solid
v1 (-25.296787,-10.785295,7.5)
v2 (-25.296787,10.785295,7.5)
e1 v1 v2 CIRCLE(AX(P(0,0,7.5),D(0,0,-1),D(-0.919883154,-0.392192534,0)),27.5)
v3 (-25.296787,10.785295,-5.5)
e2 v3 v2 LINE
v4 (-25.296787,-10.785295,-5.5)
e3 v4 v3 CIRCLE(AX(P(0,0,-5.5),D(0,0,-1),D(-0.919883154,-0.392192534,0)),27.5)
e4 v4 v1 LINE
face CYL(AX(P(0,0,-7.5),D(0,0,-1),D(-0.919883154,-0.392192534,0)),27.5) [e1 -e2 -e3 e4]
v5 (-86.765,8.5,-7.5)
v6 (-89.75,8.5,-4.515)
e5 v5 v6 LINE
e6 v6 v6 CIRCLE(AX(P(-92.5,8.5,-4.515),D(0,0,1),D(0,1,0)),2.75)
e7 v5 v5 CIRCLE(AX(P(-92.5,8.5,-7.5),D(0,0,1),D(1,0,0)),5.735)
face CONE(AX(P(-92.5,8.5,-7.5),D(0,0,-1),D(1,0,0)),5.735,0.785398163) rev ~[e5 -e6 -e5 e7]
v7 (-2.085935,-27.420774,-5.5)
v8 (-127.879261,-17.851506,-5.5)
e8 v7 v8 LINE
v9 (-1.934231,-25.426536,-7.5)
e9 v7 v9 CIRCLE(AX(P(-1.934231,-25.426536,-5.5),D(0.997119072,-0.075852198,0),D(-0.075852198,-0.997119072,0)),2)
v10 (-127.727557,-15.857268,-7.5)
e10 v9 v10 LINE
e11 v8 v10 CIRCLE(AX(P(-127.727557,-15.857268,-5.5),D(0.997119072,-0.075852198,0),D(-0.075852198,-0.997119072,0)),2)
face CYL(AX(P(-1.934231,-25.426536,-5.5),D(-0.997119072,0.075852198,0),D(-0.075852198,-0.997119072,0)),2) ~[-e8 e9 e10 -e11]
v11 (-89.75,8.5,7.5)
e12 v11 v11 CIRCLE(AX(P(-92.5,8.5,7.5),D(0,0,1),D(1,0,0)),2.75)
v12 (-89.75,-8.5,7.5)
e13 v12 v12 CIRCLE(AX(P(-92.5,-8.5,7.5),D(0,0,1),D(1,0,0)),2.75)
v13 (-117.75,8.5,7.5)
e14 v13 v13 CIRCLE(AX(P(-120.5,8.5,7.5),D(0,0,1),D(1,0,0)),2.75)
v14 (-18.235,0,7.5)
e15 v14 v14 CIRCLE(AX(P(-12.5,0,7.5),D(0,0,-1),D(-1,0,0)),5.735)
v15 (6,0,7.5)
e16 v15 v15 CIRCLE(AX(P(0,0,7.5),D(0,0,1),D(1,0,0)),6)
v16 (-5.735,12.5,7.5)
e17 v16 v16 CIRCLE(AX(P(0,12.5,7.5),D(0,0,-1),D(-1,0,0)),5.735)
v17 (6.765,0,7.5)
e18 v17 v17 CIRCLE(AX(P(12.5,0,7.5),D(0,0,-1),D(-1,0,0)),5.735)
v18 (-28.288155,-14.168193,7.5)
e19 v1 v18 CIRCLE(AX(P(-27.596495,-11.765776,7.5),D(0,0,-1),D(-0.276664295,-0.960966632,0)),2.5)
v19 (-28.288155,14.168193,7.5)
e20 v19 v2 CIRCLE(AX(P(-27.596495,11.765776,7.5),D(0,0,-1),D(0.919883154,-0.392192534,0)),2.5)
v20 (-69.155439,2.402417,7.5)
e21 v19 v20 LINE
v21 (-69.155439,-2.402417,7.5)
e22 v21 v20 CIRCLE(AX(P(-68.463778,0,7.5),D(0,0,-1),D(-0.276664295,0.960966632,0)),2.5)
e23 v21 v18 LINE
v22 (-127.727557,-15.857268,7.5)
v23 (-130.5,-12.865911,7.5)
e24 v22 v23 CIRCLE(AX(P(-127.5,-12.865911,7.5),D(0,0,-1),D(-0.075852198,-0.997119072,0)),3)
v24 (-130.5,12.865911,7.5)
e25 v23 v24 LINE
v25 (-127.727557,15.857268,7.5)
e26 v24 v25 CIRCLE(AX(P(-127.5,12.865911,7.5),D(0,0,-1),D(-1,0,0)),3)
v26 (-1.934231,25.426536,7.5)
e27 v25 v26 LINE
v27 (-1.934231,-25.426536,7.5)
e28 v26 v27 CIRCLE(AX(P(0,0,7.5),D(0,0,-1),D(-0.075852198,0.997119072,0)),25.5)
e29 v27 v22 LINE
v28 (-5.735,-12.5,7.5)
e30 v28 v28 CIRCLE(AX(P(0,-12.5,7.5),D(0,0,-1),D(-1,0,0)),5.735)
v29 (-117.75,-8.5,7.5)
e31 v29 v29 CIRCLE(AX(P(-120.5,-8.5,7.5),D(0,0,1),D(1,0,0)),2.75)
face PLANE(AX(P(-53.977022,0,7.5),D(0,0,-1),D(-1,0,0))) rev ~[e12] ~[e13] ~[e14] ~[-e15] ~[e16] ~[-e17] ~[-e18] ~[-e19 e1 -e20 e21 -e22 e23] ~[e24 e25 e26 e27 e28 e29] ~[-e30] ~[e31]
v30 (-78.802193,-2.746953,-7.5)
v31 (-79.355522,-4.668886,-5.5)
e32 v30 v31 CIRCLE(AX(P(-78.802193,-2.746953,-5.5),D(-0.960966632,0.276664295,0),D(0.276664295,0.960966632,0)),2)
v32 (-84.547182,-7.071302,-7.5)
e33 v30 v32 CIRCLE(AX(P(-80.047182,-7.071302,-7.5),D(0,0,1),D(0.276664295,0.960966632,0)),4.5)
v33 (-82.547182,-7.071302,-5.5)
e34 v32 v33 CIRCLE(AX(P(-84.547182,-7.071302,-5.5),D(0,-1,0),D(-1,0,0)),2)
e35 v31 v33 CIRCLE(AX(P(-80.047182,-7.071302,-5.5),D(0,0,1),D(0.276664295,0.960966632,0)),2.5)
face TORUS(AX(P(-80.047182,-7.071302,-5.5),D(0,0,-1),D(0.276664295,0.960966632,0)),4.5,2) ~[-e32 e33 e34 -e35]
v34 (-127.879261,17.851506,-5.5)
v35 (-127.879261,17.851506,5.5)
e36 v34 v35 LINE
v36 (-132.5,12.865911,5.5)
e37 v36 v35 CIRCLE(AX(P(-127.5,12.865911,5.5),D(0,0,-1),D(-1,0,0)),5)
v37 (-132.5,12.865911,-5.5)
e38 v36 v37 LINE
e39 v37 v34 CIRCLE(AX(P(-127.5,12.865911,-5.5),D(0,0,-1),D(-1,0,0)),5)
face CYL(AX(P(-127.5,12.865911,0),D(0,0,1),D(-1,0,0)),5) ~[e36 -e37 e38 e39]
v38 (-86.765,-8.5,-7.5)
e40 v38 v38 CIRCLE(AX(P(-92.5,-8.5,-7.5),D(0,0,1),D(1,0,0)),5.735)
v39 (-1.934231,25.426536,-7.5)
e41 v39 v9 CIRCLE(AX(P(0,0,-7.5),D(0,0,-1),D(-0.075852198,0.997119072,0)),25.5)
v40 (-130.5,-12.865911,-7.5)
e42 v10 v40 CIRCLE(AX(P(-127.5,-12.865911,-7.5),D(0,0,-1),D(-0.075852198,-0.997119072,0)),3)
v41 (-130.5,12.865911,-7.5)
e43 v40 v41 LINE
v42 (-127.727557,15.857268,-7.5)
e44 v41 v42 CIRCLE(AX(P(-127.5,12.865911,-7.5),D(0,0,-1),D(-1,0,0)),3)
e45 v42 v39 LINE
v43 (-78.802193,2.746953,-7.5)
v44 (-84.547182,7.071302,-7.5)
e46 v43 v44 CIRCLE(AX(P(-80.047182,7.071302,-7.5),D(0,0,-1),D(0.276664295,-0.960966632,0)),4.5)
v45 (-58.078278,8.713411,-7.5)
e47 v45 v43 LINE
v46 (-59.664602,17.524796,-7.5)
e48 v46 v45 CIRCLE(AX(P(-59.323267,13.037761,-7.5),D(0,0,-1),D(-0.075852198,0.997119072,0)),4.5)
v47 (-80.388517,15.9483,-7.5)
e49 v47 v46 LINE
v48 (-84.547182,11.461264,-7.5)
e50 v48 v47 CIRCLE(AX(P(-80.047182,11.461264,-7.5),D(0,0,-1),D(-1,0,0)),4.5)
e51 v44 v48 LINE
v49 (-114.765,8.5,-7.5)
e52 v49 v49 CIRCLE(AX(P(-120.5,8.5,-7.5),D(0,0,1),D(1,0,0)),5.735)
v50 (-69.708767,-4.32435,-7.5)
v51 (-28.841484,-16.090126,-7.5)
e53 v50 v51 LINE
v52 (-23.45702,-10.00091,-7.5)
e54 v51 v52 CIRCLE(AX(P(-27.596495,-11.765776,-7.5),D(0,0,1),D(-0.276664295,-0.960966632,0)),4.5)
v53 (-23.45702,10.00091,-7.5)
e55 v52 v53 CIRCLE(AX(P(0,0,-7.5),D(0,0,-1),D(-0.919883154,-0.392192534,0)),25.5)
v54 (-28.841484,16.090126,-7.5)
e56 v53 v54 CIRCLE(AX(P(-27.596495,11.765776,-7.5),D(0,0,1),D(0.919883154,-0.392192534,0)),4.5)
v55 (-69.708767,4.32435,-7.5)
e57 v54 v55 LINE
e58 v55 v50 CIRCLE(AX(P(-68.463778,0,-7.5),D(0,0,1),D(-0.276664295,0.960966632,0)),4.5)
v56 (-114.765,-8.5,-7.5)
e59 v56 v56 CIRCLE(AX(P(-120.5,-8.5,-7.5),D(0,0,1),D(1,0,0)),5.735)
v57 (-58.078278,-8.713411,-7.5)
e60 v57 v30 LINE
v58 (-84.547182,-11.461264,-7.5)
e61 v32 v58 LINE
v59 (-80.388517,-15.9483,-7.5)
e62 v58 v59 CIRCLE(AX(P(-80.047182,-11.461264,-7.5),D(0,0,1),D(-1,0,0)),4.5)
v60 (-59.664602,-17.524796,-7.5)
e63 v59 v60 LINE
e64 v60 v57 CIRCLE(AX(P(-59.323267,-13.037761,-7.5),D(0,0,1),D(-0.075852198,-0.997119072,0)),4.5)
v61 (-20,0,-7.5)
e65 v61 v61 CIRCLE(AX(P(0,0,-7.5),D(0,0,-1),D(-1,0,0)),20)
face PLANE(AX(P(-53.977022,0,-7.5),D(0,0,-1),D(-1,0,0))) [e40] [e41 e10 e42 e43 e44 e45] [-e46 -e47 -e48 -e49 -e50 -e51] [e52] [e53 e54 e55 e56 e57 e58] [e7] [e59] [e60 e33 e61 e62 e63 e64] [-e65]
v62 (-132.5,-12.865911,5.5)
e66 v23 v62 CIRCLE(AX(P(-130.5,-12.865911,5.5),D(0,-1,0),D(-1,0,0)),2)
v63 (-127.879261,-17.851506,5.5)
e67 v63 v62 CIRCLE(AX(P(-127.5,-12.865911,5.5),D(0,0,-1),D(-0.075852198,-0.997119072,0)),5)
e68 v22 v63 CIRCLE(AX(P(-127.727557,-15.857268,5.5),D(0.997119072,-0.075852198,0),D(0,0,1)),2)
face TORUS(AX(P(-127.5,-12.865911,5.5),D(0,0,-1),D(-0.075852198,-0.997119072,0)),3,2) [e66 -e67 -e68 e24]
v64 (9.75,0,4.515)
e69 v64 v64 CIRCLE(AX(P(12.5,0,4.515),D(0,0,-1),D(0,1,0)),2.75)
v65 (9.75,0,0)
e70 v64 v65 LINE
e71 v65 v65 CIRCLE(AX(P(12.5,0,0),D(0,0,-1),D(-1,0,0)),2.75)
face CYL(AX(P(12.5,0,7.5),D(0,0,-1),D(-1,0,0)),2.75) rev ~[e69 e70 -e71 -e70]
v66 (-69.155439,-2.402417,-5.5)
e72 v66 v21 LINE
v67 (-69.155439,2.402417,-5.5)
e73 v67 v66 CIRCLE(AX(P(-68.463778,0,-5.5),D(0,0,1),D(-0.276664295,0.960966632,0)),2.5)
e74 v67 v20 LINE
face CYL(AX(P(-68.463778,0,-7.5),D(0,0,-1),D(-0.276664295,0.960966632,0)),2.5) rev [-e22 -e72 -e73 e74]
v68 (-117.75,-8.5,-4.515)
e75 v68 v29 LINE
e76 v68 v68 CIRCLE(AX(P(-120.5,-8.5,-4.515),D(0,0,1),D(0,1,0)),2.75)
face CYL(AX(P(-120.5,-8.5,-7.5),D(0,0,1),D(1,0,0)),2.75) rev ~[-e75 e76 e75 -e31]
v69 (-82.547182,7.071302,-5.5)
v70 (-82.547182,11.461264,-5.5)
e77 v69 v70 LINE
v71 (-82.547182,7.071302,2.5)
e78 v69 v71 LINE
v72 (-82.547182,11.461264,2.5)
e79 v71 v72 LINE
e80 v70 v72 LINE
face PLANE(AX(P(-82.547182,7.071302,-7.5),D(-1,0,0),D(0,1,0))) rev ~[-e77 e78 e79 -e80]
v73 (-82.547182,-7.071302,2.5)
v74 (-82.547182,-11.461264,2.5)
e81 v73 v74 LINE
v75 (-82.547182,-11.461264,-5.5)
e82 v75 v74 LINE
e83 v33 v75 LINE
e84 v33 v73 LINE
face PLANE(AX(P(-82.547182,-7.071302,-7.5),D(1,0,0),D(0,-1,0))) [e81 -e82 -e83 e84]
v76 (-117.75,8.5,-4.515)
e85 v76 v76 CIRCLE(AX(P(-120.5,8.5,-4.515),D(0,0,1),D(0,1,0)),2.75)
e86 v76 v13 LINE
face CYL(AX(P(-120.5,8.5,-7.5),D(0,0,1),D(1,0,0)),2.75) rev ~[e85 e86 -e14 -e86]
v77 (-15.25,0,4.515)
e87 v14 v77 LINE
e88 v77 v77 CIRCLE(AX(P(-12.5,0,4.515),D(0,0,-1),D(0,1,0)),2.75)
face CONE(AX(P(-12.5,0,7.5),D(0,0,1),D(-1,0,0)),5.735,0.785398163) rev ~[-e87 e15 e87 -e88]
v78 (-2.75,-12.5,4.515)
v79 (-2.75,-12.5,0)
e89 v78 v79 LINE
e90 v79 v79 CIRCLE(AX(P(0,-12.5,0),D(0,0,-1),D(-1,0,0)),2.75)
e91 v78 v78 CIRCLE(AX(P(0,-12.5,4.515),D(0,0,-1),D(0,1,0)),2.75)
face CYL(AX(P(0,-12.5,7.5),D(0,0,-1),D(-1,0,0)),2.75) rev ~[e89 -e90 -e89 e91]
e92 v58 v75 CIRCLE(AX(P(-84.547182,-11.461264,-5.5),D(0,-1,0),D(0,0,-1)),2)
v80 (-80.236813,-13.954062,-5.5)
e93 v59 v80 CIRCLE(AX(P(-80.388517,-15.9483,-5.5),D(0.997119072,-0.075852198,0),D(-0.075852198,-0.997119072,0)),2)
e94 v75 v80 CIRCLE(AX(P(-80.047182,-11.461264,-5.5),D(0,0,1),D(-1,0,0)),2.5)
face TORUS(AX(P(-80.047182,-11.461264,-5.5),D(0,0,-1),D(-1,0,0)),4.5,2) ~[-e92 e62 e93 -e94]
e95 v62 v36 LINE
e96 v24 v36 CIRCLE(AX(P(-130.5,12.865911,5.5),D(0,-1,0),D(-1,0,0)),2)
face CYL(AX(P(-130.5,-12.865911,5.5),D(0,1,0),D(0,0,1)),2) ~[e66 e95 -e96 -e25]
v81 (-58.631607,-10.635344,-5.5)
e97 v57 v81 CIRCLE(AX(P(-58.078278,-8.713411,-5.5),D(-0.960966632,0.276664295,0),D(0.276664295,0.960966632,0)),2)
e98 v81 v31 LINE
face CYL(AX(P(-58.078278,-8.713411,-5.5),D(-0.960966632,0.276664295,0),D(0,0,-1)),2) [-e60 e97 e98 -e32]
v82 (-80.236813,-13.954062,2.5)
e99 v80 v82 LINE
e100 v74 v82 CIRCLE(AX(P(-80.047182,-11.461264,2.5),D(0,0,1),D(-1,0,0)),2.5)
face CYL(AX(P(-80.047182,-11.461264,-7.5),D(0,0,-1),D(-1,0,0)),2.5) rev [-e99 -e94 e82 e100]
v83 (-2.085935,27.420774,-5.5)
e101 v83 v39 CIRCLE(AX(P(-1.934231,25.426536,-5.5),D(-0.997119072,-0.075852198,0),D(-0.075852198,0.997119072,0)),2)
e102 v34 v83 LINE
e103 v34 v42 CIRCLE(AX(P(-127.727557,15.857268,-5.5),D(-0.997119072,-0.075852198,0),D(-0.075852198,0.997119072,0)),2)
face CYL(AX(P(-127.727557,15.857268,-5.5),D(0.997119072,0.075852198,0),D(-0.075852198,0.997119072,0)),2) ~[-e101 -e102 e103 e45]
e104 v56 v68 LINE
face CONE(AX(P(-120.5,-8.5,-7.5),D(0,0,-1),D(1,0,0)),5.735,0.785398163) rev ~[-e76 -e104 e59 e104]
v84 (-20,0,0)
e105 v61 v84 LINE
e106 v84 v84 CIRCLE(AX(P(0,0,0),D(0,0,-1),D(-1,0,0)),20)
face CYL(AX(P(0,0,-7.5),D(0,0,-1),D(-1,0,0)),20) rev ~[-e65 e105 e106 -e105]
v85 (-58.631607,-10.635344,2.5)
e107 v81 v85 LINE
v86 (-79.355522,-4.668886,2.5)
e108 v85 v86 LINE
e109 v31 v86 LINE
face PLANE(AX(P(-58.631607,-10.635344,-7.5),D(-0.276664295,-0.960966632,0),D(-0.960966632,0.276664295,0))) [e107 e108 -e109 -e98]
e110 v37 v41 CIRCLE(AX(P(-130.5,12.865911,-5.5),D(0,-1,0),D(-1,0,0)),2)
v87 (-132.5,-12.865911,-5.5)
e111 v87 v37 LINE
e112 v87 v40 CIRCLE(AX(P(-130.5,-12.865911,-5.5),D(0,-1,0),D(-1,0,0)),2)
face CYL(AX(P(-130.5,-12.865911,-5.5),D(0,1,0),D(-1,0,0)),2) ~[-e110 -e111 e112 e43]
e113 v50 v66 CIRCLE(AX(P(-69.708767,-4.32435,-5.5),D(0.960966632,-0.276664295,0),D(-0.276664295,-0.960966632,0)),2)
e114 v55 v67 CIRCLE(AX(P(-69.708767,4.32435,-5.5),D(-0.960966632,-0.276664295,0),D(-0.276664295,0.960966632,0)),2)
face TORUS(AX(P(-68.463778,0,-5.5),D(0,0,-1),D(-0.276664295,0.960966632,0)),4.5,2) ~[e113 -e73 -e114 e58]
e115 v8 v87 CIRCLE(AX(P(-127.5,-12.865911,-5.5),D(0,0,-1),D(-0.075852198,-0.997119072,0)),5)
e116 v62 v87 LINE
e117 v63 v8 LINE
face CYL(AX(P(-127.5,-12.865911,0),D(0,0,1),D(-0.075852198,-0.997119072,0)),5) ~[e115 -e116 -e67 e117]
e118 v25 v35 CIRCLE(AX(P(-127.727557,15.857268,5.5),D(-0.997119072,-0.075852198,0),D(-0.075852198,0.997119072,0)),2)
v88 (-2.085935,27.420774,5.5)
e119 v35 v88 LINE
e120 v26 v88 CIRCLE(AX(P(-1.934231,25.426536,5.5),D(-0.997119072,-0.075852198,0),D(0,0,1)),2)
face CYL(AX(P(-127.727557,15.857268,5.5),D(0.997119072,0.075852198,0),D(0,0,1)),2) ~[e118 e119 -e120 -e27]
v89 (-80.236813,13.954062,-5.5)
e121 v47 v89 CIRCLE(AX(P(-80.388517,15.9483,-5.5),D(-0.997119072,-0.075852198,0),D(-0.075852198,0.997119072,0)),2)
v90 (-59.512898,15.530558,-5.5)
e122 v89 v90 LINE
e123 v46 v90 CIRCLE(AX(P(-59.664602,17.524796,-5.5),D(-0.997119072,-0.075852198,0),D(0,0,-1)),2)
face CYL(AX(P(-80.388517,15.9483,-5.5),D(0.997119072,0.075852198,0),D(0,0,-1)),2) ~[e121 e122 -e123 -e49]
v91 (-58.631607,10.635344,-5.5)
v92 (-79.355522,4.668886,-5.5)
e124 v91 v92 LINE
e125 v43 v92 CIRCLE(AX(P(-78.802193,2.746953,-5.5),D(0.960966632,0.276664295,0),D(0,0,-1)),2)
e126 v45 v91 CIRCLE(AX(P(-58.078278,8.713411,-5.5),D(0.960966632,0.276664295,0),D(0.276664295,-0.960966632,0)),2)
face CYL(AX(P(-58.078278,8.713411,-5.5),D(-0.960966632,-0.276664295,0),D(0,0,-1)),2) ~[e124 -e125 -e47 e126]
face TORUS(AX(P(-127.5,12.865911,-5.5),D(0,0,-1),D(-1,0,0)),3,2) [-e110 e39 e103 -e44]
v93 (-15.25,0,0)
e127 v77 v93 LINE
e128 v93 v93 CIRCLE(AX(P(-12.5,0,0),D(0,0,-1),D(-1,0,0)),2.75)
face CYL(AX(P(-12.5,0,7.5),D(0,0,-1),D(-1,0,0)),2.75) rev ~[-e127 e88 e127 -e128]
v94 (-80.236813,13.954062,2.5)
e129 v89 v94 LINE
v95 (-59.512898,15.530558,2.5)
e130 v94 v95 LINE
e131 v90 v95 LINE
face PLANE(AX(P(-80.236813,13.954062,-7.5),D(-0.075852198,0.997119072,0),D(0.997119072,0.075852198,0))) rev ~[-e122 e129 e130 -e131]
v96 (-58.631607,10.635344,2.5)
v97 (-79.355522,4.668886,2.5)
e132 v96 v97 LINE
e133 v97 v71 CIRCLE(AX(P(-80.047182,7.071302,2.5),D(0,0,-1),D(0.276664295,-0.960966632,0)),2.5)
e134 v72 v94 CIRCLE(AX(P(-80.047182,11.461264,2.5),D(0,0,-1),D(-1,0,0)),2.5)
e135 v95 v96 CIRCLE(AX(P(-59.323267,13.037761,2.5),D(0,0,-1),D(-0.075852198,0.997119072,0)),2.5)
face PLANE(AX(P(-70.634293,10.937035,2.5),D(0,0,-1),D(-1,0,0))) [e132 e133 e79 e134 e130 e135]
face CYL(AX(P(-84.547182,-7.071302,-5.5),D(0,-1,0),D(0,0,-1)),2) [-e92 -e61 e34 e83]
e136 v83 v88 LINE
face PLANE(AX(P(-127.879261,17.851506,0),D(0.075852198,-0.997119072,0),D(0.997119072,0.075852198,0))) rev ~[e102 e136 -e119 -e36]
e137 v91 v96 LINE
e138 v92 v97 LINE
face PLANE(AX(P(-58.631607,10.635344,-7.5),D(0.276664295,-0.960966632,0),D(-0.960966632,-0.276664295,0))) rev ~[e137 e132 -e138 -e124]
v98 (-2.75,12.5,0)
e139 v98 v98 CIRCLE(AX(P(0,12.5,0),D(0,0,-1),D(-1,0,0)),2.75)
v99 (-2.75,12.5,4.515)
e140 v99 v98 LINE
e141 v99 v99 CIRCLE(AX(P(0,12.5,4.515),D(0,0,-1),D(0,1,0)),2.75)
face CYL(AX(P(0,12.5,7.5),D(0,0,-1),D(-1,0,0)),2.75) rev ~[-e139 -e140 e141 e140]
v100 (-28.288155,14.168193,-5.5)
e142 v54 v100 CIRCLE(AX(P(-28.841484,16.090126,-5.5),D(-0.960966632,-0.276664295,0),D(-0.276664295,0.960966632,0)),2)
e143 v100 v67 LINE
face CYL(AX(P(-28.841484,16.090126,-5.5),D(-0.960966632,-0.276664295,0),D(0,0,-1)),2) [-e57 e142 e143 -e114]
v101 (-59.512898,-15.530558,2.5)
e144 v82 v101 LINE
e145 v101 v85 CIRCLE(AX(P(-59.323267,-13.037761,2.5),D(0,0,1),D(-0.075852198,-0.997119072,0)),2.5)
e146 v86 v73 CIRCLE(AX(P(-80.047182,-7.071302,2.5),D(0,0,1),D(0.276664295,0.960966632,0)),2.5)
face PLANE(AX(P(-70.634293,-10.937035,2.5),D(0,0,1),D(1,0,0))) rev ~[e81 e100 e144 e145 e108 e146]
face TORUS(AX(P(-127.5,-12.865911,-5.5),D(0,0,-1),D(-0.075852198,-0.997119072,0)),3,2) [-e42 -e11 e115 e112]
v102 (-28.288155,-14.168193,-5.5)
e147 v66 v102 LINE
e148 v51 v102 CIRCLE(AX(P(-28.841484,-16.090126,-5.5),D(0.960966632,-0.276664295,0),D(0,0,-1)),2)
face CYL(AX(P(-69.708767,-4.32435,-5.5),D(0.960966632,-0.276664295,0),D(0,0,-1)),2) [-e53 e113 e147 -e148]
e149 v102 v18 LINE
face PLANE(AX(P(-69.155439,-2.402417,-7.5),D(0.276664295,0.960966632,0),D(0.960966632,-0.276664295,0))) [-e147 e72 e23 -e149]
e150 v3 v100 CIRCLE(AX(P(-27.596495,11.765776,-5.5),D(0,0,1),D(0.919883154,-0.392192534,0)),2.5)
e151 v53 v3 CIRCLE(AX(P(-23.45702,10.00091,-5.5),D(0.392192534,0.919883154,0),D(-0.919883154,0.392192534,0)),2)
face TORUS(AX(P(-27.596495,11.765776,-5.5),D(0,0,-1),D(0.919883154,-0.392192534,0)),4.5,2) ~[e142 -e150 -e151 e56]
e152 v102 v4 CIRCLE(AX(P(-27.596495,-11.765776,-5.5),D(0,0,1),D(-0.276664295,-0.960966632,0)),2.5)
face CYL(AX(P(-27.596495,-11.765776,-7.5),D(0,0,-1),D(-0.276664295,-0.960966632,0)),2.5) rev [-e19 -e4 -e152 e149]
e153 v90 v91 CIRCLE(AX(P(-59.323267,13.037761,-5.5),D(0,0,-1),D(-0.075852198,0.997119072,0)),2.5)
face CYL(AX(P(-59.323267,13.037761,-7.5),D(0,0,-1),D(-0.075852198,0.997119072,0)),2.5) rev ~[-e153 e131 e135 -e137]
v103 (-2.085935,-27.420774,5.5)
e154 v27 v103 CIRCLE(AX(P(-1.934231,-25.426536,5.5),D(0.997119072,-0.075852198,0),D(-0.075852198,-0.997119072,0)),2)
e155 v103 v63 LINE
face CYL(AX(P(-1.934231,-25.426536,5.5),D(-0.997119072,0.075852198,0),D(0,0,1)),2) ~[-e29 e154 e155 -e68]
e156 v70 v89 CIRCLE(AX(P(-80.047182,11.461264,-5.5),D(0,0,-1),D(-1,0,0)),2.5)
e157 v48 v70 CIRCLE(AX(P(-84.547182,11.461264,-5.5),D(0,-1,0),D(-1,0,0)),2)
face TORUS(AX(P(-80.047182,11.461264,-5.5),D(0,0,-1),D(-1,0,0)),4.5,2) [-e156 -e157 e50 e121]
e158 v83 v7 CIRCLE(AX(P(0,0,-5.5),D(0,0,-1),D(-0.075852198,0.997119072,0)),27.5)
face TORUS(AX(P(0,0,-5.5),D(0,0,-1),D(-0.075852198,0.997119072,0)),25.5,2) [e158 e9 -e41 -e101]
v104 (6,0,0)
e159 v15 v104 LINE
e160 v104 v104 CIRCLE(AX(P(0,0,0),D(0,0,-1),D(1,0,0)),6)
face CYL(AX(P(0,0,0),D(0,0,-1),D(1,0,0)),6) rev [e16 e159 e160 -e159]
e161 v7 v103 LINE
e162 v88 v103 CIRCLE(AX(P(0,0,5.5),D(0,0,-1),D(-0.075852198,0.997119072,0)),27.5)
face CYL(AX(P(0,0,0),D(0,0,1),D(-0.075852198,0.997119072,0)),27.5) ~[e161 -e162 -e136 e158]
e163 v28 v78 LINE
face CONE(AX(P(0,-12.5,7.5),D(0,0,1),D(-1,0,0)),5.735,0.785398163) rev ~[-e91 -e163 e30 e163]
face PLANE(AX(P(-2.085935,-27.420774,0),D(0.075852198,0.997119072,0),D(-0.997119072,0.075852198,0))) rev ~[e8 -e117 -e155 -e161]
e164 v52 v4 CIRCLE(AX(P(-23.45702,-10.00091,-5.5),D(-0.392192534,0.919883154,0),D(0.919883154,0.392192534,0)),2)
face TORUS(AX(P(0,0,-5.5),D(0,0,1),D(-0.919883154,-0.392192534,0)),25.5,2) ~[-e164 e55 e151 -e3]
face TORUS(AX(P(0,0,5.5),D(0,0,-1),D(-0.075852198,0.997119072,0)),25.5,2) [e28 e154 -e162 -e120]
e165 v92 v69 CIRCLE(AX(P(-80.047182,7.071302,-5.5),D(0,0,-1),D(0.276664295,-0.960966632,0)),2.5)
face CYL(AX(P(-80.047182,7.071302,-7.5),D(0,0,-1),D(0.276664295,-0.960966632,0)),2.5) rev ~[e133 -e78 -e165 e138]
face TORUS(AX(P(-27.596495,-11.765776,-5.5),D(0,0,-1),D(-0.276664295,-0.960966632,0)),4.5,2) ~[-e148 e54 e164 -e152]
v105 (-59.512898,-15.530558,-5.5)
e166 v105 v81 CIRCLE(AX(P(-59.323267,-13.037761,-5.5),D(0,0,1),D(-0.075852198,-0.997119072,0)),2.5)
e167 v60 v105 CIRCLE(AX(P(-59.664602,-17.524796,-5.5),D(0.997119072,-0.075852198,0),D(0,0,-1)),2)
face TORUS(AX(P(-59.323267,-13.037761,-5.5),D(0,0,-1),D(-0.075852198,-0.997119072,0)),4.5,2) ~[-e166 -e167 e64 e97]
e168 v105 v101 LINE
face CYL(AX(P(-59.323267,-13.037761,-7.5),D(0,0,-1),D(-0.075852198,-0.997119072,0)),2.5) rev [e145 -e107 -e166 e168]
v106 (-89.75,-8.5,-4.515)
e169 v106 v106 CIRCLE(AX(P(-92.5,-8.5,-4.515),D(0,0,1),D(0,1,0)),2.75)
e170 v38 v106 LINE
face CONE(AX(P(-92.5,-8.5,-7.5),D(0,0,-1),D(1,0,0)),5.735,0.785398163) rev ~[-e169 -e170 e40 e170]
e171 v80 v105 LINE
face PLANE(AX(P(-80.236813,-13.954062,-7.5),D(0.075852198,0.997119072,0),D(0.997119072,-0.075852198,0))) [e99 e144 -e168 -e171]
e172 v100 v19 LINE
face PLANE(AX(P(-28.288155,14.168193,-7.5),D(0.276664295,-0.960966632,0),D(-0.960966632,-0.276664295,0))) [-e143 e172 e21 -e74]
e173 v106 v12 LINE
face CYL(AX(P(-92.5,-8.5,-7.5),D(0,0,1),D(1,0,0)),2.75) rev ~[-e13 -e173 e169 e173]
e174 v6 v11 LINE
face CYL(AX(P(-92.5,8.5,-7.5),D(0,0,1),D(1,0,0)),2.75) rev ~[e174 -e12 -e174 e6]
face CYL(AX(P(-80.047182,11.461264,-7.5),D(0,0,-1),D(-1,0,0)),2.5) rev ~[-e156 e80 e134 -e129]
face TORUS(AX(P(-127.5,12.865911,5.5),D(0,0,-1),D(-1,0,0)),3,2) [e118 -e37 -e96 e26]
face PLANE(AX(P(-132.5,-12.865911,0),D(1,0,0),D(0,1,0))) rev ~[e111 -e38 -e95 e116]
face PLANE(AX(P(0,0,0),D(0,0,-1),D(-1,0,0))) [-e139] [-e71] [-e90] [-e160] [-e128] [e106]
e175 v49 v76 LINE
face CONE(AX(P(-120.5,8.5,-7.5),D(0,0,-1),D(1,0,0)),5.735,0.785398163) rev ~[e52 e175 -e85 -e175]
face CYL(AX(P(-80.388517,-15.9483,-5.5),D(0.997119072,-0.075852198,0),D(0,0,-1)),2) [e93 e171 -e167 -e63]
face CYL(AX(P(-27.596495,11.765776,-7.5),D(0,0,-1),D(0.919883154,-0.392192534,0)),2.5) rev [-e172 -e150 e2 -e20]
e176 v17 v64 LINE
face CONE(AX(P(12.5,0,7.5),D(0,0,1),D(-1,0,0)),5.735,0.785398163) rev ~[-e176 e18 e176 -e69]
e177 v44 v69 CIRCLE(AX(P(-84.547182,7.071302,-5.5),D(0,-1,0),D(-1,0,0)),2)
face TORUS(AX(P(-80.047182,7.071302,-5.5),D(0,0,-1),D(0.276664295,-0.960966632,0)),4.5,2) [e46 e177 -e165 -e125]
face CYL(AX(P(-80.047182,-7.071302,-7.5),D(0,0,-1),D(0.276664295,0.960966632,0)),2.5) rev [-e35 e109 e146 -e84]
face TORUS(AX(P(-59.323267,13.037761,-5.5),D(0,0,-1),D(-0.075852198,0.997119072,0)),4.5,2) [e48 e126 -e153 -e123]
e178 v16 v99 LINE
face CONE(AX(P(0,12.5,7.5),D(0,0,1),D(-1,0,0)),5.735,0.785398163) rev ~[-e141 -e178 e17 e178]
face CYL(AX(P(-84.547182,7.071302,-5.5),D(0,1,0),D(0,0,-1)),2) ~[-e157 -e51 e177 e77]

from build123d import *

# Parameters (mm, degrees)
SKETCH1_R                                            = 6
BOSS_EXTRUDE1_DEPTH                                  = 7.5
SKETCH2_R                                            = 20
CUT_EXTRUDE1_DEPTH                                   = 7.5
CUT_EXTRUDE3_DEPTH                                   = 16
CUT_EXTRUDE5_DEPTH                                   = 10
FILLET4_R                                            = 2
CSK_FOR_M5_HEX_SOCKET_COUNTERSUNK_HEAD_S_D           = 5.5
CSK_FOR_M5_HEX_SOCKET_COUNTERSUNK_HEAD_S_CSINK_D     = 11.47
CSK_FOR_M5_HEX_SOCKET_COUNTERSUNK_HEAD_S_CSINK_ANGLE = 90
CSK_FOR_M5_HEX_SOCKET_COUNTERSUNK_HE_2_D             = 5.5
CSK_FOR_M5_HEX_SOCKET_COUNTERSUNK_HE_2_CSINK_D       = 11.47
CSK_FOR_M5_HEX_SOCKET_COUNTERSUNK_HE_2_CSINK_ANGLE   = 90
LPATTERN1_COUNT                                      = 2
LPATTERN1_PITCH                                      = 28
LPATTERN1_COUNT_DIR2                                 = 2
LPATTERN1_PITCH_DIR2                                 = 17


with BuildPart() as part:
    # Sketch1 → Boss-Extrude1 (new body, symmetric)
    with BuildSketch(Plane.XY):
        with BuildLine():
            Line((-2.085935445, -27.420774484), (-127.87926099, -17.851505873))
            ThreePointArc((-127.87926099, -17.851505873), (-131.167172272, -16.264711408), (-132.5, -12.865910513))
            Line((-132.5, -12.865910513), (-132.5, 12.865910513))
            ThreePointArc((-132.5, 12.865910513), (-131.167172272, 16.264711408), (-127.87926099, 17.851505873))
            Line((-127.87926099, 17.851505873), (-2.085935445, 27.420774484))
            ThreePointArc((-2.085935445, 27.420774484), (27.5, 0), (-2.085935445, -27.420774484))
        make_face()
        Circle(SKETCH1_R, mode=Mode.SUBTRACT)
    extrude(amount=BOSS_EXTRUDE1_DEPTH, both=True)

    # Sketch2 → Cut-Extrude1 (cut)
    with BuildSketch(Plane(origin=(0, 0, -7.5), x_dir=(-1, 0, 0), z_dir=(0, 0, -1))):
        Circle(SKETCH2_R)
    extrude(amount=-CUT_EXTRUDE1_DEPTH, mode=Mode.SUBTRACT)

    # Sketch4 → Cut-Extrude3 (cut, through all)
    with BuildSketch(Plane(origin=(0, 0, -7.5), x_dir=(-1, 0, 0), z_dir=(0, 0, -1))):
        with BuildLine():
            Line((28.288155347, 14.168192599), (69.155438709, 2.40241658))
            ThreePointArc((69.155438709, 2.40241658), (70.963777971, 0), (69.155438709, -2.40241658))
            Line((69.155438709, -2.40241658), (28.288155347, -14.168192599))
            ThreePointArc((28.288155347, -14.168192599), (25.723674948, -13.42183958), (25.296786724, -10.785294684))
            ThreePointArc((25.296786724, -10.785294684), (27.5, 0), (25.296786724, 10.785294684))
            ThreePointArc((25.296786724, 10.785294684), (25.723674948, 13.42183958), (28.288155347, 14.168192599))
        make_face()
    extrude(amount=-CUT_EXTRUDE3_DEPTH, mode=Mode.SUBTRACT)

    # Sketch6 → Cut-Extrude5 (cut)
    with BuildSketch(Plane(origin=(0, 0, -7.5), x_dir=(-1, 0, 0), z_dir=(0, 0, -1))):
        with BuildLine():
            Line((58.631606678, 10.635344041), (79.355521547, 4.668885776))
            ThreePointArc((79.355521547, 4.668885776), (81.550652962, 5.073910075), (82.547182285, 7.071302356))
            Line((82.547182285, 7.071302356), (82.547182285, 11.461264354))
            ThreePointArc((82.547182285, 11.461264354), (81.880768421, 13.160664802), (80.23681278, 13.954062035))
            Line((80.23681278, 13.954062035), (59.512897911, 15.530558301))
            ThreePointArc((59.512897911, 15.530558301), (56.862822486, 13.480717442), (58.631606678, 10.635344041))
        make_face()
        with BuildLine():
            Line((82.547182285, -7.071302356), (82.547182285, -11.461264354))
            ThreePointArc((82.547182285, -11.461264354), (81.880768421, -13.160664802), (80.23681278, -13.954062035))
            Line((80.23681278, -13.954062035), (59.512897911, -15.530558301))
            ThreePointArc((59.512897911, -15.530558301), (56.862822486, -13.480717442), (58.631606678, -10.635344041))
            Line((58.631606678, -10.635344041), (79.355521547, -4.668885776))
            ThreePointArc((79.355521547, -4.668885776), (81.550652962, -5.073910075), (82.547182285, -7.071302356))
        make_face()
    extrude(amount=-CUT_EXTRUDE5_DEPTH, mode=Mode.SUBTRACT)

    # Fillet4
    fillet4_edges = [part.edges().sort_by_distance(p)[0] for p in [
        (-131.167172272, 16.264711408, 7.5),
        (-132.5, 0, 7.5),
        (-131.167172272, -16.264711408, 7.5),
        (-64.982598218, -22.636140179, 7.5),
        (-70.963777971, 0, -7.5),
        (-48.721797028, 8.285304589, -7.5),
        (-25.723674948, 13.42183958, -7.5),
        (-27.5, 0, -7.5),
        (-25.723674948, -13.42183958, -7.5),
        (-48.721797028, -8.285304589, -7.5),
        (27.5, 0, 7.5),
        (-81.880768421, 13.160664802, -7.5),
        (-69.874855346, 14.742310168, -7.5),
        (-56.862822486, 13.480717442, -7.5),
        (-68.993564112, 7.652114908, -7.5),
        (-81.550652962, 5.073910075, -7.5),
        (-82.547182285, 9.266283355, -7.5),
        (-64.982598218, -22.636140179, -7.5),
        (-81.550652962, -5.073910075, -7.5),
        (-68.993564112, -7.652114908, -7.5),
        (-56.862822486, -13.480717442, -7.5),
        (-69.874855346, -14.742310168, -7.5),
        (-81.880768421, -13.160664802, -7.5),
        (-82.547182285, -9.266283355, -7.5),
        (-131.167172272, -16.264711408, -7.5),
        (-132.5, 0, -7.5),
        (-131.167172272, 16.264711408, -7.5),
        (-64.982598218, 22.636140179, -7.5),
        (27.5, 0, -7.5),
        (-64.982598218, 22.636140179, 7.5),
    ]]
    fillet(fillet4_edges, radius=FILLET4_R)

    # CSK for M5 Hex Socket Countersunk Head S (through all)
    with Locations(Plane.XY.offset(7.5)):
        with Locations((-12.5, 0), (0, 12.5), (12.5, 0), (0, -12.5)):
            CounterSinkHole(CSK_FOR_M5_HEX_SOCKET_COUNTERSUNK_HEAD_S_D / 2, CSK_FOR_M5_HEX_SOCKET_COUNTERSUNK_HEAD_S_CSINK_D / 2, counter_sink_angle=CSK_FOR_M5_HEX_SOCKET_COUNTERSUNK_HEAD_S_CSINK_ANGLE)

    # CSK for M5 Hex Socket Countersunk He 2 (through all)
    with Locations(Plane(origin=(0, 0, -7.5), x_dir=(-1, 0, 0), z_dir=(0, 0, -1))):
        with Locations((92.5, 8.5)):
            csk_for_m5_hex_socket_countersunk_he_2 = CounterSinkHole(CSK_FOR_M5_HEX_SOCKET_COUNTERSUNK_HE_2_D / 2, CSK_FOR_M5_HEX_SOCKET_COUNTERSUNK_HE_2_CSINK_D / 2, counter_sink_angle=CSK_FOR_M5_HEX_SOCKET_COUNTERSUNK_HE_2_CSINK_ANGLE)

    # LPattern1: CSK for M5 Hex Socket Countersunk He 2 2 × 2
    with Locations(*[(-i * LPATTERN1_PITCH, -j * LPATTERN1_PITCH_DIR2, 0) for i in range(LPATTERN1_COUNT) for j in range(LPATTERN1_COUNT_DIR2) if (i, j) != (0, 0)]):
        add(csk_for_m5_hex_socket_countersunk_he_2, mode=Mode.SUBTRACT)


solid = part.part
